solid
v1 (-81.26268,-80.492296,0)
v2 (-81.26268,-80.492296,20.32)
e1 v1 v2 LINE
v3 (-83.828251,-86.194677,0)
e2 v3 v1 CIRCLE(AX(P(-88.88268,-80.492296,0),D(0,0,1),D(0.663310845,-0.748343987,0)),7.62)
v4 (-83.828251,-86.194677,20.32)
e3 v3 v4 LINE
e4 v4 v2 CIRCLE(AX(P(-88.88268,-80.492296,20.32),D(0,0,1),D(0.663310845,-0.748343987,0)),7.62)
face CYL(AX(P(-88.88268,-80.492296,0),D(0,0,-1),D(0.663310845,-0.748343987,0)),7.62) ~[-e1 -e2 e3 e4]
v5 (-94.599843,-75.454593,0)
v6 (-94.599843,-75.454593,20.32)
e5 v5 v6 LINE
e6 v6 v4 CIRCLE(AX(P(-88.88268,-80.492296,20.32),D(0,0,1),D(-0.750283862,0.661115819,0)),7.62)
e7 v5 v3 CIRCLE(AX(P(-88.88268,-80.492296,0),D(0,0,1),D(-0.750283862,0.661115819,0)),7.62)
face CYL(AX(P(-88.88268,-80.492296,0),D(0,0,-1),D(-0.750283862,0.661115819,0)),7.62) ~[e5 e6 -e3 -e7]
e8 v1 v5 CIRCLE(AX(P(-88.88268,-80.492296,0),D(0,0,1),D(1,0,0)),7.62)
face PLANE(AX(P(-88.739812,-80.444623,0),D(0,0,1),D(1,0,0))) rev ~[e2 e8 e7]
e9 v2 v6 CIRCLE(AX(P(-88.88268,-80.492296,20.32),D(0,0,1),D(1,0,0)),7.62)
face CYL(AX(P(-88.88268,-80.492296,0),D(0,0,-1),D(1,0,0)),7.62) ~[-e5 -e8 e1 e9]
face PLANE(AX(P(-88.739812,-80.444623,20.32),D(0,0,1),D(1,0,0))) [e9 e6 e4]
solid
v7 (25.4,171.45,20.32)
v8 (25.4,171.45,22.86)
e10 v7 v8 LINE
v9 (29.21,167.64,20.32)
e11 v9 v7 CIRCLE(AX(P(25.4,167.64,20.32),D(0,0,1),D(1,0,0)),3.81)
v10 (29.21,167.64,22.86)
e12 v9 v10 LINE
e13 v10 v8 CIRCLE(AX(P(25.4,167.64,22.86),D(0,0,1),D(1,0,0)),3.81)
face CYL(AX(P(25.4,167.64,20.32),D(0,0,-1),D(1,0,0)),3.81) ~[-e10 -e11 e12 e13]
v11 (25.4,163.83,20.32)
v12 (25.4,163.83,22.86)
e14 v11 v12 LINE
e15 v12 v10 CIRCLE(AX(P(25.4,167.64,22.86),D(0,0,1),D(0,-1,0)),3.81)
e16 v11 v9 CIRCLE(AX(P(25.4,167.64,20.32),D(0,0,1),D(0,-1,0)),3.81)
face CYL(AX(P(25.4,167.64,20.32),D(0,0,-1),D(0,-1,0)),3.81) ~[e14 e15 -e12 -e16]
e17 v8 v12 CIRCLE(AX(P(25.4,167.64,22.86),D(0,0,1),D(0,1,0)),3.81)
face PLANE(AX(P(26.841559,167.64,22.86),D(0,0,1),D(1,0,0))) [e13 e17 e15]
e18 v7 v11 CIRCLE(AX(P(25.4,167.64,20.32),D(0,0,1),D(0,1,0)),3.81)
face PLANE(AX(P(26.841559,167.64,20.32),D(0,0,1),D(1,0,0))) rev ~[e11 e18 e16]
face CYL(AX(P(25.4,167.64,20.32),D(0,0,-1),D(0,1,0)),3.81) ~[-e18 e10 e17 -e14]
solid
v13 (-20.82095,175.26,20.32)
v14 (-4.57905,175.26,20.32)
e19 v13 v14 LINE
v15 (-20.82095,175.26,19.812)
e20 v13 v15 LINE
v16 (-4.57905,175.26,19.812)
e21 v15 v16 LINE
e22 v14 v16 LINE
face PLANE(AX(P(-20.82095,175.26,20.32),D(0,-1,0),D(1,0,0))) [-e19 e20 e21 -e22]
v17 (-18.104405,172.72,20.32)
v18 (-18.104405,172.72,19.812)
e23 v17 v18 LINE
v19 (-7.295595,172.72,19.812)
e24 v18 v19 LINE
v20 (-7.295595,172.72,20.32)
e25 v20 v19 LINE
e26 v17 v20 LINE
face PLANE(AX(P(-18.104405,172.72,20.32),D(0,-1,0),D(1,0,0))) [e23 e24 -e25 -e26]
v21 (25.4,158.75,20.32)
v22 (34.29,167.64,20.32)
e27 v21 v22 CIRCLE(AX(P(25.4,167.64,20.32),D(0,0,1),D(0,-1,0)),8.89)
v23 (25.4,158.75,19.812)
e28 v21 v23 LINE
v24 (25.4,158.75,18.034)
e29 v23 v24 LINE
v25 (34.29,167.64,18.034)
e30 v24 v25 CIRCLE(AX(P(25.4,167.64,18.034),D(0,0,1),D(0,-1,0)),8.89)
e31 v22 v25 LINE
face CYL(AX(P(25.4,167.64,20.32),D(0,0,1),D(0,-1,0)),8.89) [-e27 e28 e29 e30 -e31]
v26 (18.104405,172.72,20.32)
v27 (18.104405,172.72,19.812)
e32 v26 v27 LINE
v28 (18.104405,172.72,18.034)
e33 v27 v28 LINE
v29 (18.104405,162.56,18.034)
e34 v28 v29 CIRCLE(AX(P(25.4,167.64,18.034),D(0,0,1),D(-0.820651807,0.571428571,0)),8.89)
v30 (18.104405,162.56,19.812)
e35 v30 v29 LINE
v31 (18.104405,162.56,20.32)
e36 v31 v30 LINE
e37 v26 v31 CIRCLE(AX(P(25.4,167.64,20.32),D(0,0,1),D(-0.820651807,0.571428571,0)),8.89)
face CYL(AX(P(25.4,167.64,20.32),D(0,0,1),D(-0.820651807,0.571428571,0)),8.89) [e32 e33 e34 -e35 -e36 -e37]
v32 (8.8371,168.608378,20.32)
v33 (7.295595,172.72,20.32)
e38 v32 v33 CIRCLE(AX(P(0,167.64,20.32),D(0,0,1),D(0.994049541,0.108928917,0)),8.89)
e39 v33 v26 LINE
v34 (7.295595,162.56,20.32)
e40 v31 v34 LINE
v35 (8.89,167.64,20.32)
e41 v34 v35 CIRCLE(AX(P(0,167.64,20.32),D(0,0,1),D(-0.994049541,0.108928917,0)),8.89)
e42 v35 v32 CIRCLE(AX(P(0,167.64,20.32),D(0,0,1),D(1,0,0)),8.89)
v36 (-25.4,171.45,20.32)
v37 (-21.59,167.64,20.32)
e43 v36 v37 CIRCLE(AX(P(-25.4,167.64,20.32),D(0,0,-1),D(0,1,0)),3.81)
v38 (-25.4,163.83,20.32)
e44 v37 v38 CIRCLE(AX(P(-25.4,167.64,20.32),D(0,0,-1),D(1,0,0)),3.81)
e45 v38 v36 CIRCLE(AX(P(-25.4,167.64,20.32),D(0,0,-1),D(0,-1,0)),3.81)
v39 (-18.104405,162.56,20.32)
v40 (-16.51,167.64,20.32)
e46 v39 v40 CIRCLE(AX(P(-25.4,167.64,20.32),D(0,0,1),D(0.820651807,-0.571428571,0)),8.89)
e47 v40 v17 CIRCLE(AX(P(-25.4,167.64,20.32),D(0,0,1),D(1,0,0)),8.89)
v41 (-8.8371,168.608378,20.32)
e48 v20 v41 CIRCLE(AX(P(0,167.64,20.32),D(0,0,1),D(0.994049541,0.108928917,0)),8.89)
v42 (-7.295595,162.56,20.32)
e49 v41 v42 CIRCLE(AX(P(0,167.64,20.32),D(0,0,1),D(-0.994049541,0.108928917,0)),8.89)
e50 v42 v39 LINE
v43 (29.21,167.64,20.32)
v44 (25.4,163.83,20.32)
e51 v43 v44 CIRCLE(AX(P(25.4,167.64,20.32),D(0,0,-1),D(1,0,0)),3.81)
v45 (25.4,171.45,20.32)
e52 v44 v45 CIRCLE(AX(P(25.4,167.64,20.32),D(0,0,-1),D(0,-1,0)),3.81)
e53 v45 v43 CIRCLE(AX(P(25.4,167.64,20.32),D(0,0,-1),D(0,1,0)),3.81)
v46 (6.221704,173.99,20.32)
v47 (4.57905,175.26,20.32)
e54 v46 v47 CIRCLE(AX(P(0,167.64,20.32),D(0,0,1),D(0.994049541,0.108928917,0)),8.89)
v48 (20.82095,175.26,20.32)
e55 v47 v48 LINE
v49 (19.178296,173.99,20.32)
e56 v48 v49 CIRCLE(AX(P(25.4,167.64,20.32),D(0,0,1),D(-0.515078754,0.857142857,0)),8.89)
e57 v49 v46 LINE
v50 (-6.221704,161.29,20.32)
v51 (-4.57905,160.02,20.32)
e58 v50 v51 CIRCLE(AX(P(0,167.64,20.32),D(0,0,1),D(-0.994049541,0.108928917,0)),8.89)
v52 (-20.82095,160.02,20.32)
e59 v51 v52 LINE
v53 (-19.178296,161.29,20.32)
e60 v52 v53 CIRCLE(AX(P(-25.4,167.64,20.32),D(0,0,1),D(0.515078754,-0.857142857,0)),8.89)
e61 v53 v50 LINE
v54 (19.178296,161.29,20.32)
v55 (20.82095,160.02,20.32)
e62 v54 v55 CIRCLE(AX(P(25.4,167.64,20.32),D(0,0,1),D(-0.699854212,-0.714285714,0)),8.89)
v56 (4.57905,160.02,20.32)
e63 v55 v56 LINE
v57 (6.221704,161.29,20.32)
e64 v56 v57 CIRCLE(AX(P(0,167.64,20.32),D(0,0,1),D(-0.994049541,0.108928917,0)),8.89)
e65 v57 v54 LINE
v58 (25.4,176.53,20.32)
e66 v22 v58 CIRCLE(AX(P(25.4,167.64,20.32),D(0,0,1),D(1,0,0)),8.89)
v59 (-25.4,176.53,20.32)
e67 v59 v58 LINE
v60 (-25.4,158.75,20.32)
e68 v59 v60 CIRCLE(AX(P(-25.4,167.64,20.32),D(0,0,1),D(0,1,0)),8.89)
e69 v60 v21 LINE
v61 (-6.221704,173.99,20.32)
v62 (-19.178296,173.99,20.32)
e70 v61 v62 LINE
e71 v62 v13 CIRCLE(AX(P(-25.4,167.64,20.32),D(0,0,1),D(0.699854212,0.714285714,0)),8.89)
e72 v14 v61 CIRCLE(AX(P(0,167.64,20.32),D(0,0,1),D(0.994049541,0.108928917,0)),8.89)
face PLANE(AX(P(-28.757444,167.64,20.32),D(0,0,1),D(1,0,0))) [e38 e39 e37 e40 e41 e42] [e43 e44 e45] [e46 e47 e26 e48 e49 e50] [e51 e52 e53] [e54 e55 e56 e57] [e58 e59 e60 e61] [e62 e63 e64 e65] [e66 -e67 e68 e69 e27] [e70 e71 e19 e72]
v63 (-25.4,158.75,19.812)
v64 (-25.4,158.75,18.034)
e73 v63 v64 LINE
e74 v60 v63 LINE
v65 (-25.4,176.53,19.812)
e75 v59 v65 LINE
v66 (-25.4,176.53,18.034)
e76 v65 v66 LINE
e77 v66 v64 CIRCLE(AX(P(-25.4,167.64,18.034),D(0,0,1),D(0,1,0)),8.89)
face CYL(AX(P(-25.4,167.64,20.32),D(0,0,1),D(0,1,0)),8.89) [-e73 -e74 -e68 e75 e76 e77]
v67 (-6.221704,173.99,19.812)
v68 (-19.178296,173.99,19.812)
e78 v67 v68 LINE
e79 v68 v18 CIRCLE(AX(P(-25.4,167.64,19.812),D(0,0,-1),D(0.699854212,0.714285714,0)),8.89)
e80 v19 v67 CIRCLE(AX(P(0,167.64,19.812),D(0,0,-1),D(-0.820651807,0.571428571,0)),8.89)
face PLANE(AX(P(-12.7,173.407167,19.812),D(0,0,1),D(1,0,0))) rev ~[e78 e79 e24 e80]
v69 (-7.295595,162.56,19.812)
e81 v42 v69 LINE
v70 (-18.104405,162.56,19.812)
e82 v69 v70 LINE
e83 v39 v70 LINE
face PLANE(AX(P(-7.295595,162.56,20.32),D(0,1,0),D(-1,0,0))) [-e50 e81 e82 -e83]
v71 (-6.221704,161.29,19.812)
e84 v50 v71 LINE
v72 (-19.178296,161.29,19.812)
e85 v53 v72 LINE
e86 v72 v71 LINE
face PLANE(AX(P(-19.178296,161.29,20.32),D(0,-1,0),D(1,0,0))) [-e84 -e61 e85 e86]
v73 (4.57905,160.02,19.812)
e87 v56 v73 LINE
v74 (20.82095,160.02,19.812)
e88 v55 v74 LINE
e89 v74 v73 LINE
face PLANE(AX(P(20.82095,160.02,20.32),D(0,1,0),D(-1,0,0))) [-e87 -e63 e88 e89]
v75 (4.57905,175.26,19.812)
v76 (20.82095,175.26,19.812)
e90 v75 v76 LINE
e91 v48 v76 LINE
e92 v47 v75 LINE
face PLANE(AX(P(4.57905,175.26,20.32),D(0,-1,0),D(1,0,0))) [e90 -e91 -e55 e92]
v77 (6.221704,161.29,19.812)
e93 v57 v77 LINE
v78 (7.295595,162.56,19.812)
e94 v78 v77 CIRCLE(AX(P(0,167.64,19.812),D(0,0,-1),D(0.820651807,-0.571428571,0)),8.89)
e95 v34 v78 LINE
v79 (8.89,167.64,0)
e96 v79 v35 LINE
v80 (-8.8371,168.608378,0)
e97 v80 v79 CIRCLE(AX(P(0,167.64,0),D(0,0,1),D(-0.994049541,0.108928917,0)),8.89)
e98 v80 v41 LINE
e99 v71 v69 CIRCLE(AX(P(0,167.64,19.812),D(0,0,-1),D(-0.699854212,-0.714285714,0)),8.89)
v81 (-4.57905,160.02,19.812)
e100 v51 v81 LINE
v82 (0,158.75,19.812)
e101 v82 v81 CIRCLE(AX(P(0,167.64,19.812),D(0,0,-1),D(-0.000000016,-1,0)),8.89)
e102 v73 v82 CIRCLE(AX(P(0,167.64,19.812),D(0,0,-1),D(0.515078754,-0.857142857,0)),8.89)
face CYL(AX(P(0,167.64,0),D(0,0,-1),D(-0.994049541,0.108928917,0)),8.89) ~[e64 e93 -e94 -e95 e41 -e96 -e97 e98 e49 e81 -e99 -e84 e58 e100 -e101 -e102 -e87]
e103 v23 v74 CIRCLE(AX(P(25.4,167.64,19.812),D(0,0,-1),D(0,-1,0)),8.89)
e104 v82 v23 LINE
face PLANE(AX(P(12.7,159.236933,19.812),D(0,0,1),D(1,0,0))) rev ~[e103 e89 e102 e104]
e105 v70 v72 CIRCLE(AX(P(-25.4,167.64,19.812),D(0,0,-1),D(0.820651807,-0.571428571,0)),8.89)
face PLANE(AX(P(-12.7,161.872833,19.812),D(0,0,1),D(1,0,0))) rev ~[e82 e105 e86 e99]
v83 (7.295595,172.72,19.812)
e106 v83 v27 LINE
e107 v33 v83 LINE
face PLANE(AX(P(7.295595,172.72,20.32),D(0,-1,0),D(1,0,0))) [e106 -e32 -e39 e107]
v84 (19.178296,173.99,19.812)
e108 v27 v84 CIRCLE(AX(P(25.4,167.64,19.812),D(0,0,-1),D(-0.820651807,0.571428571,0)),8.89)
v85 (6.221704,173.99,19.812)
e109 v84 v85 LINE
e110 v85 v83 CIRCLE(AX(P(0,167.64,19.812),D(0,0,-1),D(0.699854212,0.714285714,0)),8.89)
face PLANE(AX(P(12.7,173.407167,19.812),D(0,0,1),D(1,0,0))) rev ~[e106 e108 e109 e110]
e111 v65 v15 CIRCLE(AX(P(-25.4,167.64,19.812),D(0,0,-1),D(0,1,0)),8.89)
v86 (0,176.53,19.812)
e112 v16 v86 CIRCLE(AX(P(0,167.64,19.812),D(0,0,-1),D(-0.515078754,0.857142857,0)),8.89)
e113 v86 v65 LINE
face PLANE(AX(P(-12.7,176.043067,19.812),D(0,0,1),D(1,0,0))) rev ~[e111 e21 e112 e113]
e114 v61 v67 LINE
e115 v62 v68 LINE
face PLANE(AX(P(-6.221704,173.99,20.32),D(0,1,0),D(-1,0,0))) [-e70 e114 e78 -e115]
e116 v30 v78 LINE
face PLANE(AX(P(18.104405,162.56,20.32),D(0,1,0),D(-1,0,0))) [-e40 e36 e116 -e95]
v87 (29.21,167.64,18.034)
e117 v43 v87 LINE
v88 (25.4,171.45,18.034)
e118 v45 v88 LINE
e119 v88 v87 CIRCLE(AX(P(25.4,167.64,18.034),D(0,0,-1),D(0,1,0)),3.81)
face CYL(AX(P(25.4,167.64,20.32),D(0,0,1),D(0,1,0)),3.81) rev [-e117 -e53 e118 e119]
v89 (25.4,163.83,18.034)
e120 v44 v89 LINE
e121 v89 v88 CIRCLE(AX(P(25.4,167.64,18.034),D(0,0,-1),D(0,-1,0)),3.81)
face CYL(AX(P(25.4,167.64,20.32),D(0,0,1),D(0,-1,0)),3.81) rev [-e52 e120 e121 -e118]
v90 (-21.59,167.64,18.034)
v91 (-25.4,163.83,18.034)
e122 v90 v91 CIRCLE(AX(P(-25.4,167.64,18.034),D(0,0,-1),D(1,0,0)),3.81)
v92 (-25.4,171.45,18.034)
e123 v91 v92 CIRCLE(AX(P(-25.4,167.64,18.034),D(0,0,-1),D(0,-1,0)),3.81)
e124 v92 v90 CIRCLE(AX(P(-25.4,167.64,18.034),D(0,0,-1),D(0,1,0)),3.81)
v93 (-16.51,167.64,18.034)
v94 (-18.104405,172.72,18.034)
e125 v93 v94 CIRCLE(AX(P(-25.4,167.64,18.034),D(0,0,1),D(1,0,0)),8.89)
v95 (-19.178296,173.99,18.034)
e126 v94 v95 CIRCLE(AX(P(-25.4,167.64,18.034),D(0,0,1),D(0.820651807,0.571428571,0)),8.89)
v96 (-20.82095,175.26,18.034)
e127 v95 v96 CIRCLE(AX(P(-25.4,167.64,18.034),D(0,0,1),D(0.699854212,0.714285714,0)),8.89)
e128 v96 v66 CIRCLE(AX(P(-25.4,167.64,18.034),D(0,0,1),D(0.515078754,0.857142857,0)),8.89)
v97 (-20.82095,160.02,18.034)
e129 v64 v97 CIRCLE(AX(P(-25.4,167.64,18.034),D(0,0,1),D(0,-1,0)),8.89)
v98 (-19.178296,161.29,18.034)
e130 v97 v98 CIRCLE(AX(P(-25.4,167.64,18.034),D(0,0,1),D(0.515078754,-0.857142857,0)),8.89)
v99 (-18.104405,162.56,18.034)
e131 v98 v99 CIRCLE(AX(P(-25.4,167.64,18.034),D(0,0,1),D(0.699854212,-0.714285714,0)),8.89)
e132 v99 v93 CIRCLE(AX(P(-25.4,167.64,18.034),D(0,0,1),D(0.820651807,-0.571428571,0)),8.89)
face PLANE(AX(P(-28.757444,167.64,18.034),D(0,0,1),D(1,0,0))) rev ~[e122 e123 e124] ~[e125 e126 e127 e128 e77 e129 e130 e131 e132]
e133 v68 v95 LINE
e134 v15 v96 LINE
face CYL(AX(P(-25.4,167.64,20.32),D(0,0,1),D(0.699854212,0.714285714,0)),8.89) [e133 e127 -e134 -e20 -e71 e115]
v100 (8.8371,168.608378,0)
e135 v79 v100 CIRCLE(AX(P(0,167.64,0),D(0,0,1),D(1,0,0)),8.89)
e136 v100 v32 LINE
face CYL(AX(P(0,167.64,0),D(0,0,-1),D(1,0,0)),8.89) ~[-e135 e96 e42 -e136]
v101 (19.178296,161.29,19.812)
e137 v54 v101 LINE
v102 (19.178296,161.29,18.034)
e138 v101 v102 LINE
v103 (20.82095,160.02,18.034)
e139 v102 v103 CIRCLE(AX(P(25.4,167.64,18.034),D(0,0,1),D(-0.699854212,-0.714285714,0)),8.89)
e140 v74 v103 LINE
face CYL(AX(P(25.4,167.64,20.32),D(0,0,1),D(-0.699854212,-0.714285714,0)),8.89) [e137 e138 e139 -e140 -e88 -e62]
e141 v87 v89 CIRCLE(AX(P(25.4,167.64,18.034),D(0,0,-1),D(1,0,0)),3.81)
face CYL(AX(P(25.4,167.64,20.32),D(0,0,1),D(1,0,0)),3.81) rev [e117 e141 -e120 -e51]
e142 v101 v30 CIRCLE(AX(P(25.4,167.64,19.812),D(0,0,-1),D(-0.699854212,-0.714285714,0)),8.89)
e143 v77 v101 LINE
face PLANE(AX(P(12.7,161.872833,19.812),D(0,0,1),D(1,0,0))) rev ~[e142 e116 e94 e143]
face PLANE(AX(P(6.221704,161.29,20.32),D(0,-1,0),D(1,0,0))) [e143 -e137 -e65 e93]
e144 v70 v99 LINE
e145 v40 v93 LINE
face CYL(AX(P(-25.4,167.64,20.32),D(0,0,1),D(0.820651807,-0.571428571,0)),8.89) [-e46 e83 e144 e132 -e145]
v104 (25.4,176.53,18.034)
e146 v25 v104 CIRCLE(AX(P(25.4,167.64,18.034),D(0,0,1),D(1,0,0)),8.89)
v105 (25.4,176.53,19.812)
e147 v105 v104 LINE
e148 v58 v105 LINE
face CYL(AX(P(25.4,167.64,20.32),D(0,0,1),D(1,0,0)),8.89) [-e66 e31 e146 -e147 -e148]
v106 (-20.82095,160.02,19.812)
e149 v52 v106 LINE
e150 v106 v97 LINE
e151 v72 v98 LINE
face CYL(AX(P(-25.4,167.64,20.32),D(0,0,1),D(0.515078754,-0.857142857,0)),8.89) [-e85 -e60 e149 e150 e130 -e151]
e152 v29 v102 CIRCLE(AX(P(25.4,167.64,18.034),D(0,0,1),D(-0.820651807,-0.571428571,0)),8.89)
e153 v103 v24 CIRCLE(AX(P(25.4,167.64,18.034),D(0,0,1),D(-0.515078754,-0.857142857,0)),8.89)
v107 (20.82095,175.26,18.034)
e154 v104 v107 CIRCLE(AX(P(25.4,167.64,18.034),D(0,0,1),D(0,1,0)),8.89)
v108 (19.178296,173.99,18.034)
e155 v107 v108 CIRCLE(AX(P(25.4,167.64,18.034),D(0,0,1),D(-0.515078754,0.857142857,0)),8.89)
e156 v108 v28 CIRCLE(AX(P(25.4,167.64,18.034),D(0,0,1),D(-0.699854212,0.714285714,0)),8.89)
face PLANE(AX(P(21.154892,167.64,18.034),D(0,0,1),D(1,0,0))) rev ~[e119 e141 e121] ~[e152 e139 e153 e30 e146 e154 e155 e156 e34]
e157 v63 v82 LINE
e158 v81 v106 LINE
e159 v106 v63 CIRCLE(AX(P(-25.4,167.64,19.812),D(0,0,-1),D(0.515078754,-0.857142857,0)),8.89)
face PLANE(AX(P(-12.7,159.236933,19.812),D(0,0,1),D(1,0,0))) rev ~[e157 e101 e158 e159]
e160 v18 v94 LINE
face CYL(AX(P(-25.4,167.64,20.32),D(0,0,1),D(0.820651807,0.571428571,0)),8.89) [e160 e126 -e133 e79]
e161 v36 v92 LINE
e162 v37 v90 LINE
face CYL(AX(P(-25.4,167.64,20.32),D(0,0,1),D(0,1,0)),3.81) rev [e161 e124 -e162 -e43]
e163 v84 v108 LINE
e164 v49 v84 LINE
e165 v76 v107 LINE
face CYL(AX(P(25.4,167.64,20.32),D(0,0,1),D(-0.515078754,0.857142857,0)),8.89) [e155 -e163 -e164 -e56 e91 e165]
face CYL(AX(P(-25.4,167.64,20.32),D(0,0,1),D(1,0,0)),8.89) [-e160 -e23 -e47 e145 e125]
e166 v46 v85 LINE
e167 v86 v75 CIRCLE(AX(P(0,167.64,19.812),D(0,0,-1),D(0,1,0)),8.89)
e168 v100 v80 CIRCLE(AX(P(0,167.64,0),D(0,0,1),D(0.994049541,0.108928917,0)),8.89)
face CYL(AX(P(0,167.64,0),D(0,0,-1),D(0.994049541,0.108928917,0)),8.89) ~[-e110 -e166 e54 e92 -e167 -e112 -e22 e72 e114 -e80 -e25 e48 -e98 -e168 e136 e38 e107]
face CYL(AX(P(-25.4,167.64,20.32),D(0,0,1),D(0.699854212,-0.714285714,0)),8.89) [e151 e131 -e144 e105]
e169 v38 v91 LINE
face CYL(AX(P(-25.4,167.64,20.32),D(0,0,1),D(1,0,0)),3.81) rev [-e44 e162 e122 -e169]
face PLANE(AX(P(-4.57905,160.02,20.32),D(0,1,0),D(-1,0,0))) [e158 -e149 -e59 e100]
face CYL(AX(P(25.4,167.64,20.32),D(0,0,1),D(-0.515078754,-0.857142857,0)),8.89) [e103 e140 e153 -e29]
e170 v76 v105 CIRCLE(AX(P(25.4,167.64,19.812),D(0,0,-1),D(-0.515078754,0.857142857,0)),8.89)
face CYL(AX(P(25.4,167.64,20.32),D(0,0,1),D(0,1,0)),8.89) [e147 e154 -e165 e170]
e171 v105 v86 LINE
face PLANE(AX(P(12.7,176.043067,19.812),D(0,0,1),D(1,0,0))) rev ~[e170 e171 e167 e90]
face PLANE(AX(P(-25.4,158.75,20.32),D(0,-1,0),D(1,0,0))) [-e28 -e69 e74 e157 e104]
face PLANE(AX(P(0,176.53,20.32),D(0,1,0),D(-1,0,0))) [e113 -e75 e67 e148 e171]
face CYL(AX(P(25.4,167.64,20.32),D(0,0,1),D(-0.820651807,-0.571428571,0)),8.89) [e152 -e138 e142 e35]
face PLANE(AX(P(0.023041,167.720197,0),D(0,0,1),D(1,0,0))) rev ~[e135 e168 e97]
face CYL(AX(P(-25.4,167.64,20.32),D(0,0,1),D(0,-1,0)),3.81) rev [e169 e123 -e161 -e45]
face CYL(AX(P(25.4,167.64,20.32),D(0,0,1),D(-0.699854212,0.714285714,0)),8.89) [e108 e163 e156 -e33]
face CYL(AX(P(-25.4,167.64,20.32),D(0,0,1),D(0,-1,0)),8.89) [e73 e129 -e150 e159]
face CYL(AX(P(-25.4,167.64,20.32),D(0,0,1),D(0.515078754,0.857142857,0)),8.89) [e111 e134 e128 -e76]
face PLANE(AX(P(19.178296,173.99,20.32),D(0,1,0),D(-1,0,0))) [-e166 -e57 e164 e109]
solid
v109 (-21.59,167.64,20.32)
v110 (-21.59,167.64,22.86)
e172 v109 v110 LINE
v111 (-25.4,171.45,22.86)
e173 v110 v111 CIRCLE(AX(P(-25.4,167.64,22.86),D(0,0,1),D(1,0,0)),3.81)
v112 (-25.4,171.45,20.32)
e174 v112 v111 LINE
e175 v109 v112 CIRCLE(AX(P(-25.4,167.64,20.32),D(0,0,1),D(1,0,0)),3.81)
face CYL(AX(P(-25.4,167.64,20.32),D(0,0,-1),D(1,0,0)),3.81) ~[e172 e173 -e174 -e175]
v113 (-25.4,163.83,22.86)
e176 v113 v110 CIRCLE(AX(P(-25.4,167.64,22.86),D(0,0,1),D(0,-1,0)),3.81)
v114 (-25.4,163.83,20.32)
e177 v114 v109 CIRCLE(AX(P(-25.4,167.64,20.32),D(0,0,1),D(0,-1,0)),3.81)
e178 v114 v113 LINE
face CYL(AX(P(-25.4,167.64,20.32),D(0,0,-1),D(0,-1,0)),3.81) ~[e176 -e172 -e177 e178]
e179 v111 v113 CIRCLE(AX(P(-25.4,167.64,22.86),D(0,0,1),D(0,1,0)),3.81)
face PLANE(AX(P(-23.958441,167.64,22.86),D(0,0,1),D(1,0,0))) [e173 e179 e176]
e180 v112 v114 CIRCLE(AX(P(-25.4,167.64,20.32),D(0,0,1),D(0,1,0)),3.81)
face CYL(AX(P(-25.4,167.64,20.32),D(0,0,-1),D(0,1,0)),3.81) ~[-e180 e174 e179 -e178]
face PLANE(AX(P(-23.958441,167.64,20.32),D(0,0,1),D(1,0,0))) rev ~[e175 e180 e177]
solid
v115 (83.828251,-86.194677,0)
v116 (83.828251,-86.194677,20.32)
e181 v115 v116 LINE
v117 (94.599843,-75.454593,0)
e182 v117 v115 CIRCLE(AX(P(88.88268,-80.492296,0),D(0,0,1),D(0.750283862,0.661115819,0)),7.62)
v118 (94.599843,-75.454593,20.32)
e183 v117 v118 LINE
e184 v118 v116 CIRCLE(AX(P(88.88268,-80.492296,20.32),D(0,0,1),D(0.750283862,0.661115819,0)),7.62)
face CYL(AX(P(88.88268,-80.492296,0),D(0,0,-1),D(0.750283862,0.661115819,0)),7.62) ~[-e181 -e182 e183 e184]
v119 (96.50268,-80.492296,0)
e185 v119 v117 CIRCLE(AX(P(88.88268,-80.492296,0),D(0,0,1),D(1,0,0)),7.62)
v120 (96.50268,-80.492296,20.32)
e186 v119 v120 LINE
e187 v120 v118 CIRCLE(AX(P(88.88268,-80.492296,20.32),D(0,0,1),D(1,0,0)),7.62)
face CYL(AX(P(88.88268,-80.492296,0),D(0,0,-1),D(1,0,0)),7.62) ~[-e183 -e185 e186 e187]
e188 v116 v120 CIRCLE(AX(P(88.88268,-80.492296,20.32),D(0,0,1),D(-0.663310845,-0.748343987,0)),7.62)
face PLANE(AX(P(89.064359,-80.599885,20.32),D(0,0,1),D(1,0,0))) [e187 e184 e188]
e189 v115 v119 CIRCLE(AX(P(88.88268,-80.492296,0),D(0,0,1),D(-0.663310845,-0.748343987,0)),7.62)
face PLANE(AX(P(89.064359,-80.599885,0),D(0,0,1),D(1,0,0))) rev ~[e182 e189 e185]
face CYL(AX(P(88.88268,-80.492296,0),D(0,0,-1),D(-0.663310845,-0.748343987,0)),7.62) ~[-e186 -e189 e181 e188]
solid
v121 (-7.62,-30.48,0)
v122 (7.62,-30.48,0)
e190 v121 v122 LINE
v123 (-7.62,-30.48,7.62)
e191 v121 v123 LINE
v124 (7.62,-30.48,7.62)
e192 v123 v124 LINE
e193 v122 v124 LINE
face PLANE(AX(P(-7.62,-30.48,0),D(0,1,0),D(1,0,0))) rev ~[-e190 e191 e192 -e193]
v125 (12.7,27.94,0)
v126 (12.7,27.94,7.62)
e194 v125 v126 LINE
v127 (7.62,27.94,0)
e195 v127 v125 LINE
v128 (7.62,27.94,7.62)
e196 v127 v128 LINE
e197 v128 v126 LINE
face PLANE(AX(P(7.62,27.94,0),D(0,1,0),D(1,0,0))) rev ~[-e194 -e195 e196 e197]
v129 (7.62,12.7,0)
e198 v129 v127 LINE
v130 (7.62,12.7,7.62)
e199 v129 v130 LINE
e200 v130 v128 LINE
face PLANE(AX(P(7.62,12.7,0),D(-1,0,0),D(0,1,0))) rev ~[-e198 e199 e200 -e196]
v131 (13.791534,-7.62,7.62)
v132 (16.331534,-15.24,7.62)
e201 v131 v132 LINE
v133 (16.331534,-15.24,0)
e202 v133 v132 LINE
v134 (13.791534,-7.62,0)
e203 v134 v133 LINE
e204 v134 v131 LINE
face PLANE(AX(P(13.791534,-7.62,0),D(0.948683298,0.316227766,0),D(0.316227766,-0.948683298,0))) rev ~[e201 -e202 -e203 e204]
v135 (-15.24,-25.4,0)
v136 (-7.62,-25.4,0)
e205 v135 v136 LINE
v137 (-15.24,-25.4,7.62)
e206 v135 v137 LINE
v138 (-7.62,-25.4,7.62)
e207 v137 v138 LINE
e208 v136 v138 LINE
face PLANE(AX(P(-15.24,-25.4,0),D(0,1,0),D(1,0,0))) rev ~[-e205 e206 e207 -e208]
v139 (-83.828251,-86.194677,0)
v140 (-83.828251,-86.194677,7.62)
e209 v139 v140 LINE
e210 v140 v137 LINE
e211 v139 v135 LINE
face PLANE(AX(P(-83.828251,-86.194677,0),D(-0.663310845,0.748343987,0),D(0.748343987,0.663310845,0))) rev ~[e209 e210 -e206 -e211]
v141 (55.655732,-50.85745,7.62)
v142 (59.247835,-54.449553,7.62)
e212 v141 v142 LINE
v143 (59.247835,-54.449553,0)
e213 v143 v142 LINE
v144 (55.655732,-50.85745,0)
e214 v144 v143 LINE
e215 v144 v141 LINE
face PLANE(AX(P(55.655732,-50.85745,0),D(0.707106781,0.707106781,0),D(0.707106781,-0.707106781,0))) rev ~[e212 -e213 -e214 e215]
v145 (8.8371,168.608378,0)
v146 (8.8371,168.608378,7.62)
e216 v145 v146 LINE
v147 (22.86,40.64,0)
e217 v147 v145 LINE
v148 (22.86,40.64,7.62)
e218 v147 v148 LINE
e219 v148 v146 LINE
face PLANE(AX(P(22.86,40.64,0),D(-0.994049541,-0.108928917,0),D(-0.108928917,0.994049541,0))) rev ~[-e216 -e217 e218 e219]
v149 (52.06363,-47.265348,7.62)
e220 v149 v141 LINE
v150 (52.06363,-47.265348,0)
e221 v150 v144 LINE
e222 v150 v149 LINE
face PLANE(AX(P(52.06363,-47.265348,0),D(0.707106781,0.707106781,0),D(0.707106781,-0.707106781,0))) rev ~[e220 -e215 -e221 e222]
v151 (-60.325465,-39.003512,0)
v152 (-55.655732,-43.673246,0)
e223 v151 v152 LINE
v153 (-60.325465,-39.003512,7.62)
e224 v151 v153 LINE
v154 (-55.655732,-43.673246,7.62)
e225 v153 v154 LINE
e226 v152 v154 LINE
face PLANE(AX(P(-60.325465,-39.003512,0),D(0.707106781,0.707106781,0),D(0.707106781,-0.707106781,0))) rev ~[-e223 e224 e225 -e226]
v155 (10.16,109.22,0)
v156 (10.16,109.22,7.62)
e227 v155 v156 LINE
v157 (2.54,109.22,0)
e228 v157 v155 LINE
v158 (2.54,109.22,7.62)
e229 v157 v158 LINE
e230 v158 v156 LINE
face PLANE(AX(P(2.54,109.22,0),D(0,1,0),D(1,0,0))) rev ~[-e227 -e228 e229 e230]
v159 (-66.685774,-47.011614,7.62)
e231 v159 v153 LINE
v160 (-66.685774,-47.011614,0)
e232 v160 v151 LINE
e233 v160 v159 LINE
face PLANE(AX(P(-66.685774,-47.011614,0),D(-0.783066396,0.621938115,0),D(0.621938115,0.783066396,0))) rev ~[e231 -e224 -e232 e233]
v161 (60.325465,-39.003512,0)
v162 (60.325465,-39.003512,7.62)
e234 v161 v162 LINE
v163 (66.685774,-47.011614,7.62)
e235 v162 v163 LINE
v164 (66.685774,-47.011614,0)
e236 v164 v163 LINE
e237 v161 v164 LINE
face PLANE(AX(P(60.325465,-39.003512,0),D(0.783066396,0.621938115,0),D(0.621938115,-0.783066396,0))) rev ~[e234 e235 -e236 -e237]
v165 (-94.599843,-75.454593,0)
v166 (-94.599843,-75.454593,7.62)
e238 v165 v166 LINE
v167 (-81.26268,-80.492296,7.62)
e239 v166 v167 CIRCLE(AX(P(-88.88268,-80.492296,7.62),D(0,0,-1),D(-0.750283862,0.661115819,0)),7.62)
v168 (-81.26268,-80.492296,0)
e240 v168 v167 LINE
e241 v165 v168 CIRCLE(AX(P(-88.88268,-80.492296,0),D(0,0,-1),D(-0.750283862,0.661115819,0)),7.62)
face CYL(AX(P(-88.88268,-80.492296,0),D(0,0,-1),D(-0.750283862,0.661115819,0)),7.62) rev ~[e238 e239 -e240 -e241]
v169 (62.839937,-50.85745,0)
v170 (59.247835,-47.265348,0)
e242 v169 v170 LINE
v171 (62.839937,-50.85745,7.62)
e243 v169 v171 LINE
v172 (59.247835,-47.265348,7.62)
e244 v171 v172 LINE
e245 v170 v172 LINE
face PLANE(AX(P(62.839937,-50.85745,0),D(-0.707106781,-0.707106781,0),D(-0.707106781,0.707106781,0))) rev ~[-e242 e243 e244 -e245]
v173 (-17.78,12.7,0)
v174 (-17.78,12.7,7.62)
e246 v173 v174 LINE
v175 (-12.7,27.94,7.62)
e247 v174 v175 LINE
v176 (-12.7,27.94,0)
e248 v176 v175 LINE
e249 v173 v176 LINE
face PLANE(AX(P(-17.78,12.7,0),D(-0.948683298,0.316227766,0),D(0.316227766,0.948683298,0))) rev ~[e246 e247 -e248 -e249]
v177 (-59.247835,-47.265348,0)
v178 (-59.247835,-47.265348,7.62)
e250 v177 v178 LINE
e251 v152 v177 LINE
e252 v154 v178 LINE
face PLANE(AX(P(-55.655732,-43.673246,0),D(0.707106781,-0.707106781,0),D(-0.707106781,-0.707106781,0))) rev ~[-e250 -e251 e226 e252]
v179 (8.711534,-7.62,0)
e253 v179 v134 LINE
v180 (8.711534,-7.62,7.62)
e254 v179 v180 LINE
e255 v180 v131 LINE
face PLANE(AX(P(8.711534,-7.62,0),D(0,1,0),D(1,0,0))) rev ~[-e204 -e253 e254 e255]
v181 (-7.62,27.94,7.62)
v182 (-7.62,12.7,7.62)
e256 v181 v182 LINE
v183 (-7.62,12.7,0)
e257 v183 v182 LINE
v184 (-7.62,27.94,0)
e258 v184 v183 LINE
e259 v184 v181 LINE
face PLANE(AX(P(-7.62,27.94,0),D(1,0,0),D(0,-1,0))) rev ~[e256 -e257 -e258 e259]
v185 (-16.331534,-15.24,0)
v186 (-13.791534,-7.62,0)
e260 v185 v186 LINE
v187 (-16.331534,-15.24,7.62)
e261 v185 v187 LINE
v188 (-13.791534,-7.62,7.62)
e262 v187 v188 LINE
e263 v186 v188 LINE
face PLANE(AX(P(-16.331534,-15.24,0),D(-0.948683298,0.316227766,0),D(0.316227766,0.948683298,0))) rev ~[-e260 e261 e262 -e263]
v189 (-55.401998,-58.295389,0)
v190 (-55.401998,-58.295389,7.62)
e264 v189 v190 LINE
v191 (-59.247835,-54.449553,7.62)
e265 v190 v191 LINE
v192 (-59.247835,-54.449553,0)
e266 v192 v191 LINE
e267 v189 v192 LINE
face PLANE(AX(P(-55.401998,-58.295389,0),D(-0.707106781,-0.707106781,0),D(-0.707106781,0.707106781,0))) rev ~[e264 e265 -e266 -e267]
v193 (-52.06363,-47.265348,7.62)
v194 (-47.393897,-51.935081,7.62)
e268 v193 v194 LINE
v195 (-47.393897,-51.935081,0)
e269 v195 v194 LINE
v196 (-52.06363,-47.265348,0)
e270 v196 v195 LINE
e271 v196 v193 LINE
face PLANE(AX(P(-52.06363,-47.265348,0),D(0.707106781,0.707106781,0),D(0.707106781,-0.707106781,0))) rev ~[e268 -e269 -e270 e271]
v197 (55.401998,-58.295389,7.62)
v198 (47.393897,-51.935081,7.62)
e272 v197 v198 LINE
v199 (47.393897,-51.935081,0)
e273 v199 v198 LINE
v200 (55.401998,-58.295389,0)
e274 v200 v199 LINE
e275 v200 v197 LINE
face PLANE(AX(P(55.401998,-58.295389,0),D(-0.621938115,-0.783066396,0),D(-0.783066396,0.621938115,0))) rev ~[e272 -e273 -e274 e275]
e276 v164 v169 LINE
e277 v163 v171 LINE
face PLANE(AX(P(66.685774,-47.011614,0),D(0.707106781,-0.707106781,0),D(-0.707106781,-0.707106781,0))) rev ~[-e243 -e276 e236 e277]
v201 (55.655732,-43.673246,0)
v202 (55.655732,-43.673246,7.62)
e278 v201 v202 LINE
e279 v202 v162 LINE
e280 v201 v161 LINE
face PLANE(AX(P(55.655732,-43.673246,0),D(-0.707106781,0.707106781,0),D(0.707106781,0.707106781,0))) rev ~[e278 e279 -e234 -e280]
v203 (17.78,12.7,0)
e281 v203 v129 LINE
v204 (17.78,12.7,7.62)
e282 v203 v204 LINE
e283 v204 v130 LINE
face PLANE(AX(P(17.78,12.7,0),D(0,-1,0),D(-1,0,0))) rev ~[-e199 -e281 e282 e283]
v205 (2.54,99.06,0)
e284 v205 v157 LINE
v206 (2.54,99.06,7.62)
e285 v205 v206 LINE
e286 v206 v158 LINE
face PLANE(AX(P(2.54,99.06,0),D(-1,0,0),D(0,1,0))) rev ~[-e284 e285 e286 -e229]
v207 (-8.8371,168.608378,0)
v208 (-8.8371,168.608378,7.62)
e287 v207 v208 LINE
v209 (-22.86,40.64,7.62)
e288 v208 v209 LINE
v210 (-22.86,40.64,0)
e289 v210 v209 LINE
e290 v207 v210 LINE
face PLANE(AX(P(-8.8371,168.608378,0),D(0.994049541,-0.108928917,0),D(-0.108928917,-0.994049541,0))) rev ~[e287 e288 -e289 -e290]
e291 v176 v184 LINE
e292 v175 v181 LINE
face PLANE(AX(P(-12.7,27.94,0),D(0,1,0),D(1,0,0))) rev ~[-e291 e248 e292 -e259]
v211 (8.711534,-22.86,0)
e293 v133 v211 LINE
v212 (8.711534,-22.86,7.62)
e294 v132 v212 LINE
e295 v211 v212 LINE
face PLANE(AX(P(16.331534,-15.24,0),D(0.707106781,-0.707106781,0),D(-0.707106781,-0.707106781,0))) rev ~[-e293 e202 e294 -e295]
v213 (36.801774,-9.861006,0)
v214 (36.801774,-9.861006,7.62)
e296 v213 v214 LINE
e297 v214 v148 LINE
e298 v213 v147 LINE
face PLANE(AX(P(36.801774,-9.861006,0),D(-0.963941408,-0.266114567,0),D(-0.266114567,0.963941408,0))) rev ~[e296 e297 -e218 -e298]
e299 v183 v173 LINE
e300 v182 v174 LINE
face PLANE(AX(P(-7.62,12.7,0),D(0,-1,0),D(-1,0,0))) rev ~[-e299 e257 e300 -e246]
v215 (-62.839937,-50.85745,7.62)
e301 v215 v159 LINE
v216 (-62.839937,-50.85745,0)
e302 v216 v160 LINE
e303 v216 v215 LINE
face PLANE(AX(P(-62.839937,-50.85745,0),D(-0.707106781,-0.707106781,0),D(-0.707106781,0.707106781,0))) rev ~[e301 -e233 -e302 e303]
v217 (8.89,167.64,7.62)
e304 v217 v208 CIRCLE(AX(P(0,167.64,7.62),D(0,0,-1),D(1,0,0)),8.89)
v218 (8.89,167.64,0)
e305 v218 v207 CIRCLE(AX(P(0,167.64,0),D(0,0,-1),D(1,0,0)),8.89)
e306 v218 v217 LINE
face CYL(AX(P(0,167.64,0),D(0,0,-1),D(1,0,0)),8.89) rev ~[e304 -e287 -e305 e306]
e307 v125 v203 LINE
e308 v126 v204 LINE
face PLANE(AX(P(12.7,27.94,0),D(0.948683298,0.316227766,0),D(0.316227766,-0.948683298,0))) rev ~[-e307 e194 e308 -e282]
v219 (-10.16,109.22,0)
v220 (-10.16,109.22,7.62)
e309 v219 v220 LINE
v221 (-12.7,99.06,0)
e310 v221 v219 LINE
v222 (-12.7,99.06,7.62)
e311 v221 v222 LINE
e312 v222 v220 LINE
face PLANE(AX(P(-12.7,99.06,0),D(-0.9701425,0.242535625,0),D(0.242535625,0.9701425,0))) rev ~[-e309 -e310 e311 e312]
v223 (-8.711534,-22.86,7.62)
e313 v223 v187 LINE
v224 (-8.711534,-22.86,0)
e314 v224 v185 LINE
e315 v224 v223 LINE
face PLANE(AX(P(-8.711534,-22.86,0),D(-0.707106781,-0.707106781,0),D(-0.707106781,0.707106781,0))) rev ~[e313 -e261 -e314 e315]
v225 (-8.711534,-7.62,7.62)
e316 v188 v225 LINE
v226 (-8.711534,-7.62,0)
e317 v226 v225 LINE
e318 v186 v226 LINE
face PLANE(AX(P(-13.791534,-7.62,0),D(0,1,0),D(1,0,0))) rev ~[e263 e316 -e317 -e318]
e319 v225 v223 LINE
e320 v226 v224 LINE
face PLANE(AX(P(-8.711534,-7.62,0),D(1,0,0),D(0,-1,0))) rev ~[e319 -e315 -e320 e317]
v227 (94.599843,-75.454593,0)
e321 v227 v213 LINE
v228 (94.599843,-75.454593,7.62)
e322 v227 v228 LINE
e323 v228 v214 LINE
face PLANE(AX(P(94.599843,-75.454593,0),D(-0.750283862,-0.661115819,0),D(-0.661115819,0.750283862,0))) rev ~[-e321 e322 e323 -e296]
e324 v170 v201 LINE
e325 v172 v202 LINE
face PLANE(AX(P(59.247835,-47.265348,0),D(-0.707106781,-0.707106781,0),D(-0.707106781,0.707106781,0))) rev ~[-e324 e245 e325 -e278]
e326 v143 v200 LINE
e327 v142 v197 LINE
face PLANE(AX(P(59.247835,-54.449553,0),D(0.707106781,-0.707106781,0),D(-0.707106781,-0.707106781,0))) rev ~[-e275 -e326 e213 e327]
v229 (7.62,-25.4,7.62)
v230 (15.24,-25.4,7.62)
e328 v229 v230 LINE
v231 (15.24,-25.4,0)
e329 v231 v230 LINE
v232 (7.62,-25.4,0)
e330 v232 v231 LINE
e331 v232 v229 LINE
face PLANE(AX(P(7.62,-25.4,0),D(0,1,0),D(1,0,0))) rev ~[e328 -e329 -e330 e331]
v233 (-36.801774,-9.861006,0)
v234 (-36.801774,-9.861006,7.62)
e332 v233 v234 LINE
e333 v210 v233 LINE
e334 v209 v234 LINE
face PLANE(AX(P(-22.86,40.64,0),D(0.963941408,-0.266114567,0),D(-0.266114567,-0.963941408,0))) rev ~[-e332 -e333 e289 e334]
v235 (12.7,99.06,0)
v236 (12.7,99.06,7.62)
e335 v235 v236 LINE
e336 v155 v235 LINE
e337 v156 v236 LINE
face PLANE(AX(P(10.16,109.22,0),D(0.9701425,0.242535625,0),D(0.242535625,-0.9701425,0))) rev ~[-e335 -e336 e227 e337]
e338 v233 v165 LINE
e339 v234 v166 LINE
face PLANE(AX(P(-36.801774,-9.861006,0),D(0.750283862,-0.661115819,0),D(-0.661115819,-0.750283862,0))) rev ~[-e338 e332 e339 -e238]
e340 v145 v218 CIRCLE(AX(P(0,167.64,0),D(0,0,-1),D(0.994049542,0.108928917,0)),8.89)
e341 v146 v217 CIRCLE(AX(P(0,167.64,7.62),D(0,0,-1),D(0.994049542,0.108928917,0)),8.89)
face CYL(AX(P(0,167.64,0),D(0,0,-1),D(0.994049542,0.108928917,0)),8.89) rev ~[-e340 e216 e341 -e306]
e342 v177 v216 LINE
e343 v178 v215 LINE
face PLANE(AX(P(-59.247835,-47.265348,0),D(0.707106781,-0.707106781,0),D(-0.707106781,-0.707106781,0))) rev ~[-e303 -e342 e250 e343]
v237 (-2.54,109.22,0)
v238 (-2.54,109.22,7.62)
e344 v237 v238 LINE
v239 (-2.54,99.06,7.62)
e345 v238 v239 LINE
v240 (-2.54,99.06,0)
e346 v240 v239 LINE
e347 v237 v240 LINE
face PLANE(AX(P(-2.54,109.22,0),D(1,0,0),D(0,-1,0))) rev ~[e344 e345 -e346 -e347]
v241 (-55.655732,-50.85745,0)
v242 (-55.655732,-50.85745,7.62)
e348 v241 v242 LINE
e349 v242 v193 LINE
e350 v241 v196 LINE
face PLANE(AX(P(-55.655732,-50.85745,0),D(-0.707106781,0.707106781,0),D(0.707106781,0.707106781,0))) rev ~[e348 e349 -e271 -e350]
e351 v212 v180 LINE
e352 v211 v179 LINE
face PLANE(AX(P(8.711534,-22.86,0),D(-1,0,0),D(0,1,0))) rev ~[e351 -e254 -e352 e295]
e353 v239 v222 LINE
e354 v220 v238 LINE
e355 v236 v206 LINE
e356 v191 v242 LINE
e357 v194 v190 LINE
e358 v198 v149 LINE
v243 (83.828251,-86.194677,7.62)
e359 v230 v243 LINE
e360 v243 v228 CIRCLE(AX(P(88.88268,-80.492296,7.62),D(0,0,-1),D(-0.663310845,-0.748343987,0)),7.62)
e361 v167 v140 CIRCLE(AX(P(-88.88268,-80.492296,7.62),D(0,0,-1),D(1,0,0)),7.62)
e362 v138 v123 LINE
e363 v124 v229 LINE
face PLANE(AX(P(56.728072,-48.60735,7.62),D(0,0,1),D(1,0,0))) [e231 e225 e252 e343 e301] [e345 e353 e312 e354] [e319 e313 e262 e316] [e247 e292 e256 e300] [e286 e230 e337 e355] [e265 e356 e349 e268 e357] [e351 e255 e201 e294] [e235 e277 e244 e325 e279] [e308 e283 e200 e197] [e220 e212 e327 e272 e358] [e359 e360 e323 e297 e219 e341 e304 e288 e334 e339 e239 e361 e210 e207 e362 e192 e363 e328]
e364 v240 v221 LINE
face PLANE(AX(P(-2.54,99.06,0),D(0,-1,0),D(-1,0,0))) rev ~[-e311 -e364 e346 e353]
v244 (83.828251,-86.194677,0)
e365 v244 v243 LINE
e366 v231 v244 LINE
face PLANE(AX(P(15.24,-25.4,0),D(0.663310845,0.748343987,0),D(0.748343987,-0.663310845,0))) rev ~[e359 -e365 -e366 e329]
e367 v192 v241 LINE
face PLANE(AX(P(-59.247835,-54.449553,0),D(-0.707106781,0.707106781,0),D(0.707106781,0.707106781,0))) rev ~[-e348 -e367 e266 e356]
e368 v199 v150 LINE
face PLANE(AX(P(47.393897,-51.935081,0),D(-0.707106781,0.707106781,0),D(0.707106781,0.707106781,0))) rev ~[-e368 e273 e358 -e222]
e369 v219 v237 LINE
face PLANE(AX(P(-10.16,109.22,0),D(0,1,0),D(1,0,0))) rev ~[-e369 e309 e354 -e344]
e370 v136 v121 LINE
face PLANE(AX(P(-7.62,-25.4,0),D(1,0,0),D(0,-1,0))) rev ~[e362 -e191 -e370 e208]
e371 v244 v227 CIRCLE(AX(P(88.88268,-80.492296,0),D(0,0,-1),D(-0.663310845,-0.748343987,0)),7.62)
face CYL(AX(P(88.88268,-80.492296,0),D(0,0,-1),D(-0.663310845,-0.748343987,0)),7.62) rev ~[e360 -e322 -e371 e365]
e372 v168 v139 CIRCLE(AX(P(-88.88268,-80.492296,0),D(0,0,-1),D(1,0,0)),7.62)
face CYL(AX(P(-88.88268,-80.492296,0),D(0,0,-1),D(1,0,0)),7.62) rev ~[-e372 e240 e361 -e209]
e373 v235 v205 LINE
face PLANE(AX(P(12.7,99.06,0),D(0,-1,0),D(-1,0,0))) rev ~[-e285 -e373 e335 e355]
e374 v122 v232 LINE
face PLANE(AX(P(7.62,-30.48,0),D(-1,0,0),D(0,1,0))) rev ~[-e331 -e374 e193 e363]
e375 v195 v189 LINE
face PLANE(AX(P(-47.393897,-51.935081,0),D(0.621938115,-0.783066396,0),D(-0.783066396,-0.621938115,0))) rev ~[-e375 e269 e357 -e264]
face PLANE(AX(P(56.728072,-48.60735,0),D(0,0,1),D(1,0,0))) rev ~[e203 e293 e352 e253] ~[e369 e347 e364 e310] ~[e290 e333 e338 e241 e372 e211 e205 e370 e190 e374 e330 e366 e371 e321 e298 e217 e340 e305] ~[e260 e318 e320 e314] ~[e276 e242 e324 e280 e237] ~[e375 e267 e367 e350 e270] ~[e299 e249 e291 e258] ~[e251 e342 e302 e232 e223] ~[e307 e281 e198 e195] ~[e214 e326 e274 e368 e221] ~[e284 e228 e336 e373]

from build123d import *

# Parameters (mm, degrees)
F1_DEPTH = 7.62
F2_DEPTH = 20.32
F4_DEPTH = 0.508
F5_DEPTH = 2.286
F6_DEPTH = 2.54


with BuildPart() as f1:
    # F0 (on Top) → F1 (new body)
    with BuildSketch(Plane.XY):
        with BuildLine():
            Line((94.5998428664, -75.4545931138), (36.8017739816, -9.8610056184))
            Line((36.8017739816, -9.8610056184), (15.24, -25.4))
            Line((15.24, -25.4), (83.8282511998, -86.1946768381))
            ThreePointArc((83.8282511998, -86.1946768381), (83.5024239133, -75.0962557957), (94.5998428664, -75.4545931138))
        make_face()
        Polygon((47.393896559, -51.9350811917), (52.0636297419, -47.2653480087), (55.6557321903, -50.8574504572), (59.2478346388, -54.4495529056), (55.4019981606, -58.2953893838), align=None, mode=Mode.SUBTRACT)
        Polygon((62.8399370872, -50.8574504572), (59.2478346388, -47.2653480087), (55.6557321903, -43.6732455603), (60.3254653733, -39.0035123773), (66.6857735654, -47.011613979), align=None, mode=Mode.SUBTRACT)
        with BuildLine():
            Line((-15.24, -25.4), (-36.8017739816, -9.8610056184))
            Line((-36.8017739816, -9.8610056184), (-94.5998428664, -75.4545931138))
            ThreePointArc((-94.5998428664, -75.4545931138), (-86.1901329282, -73.3638602648), (-81.2626798383, -80.4922956567))
            ThreePointArc((-81.2626798383, -80.4922956567), (-81.9336098924, -83.618767612), (-83.8282511998, -86.1946768381))
            Line((-83.8282511998, -86.1946768381), (-15.24, -25.4))
        make_face()
        Polygon((-60.3254653733, -39.0035123773), (-55.6557321903, -43.6732455603), (-59.2478346388, -47.2653480087), (-62.8399370872, -50.8574504572), (-66.6857735654, -47.011613979), align=None, mode=Mode.SUBTRACT)
        Polygon((-55.6557321903, -50.8574504572), (-52.0636297419, -47.2653480087), (-47.393896559, -51.9350811917), (-55.4019981606, -58.2953893838), (-59.2478346388, -54.4495529056), align=None, mode=Mode.SUBTRACT)
        Polygon((-22.86, 40.64), (-36.8017739816, -9.8610056184), (-15.24, -25.4), (-7.62, -25.4), (0, -25.4), (7.62, -25.4), (15.24, -25.4), (36.8017739816, -9.8610056184), (22.86, 40.64), (0, 40.64), align=None)
        Polygon((-8.711533621, -7.62), (-8.711533621, -15.24), (-8.711533621, -22.86), (-16.331533621, -15.24), (-13.791533621, -7.62), align=None, mode=Mode.SUBTRACT)
        Polygon((-7.62, 27.94), (-7.62, 20.32), (-7.62, 12.7), (-17.78, 12.7), (-12.7, 27.94), align=None, mode=Mode.SUBTRACT)
        Polygon((8.711533621, -22.86), (8.711533621, -15.24), (8.711533621, -7.62), (13.791533621, -7.62), (16.331533621, -15.24), align=None, mode=Mode.SUBTRACT)
        Polygon((17.78, 12.7), (7.62, 12.7), (7.62, 20.32), (7.62, 27.94), (12.7, 27.94), align=None, mode=Mode.SUBTRACT)
        Polygon((0, -25.4), (-7.62, -25.4), (-7.62, -30.48), (7.62, -30.48), (7.62, -25.4), align=None)
        with BuildLine():
            Line((-8.8371004239, 168.6083780763), (-22.86, 40.64))
            Line((-22.86, 40.64), (0, 40.64))
            Line((0, 40.64), (22.86, 40.64))
            Line((22.86, 40.64), (8.8371004239, 168.6083780763))
            ThreePointArc((8.8371004239, 168.6083780763), (8.8767652545, 168.1249109361), (8.89, 167.64))
            ThreePointArc((8.89, 167.64), (-0.4849109361, 158.7632347455), (-8.8371004239, 168.6083780763))
        make_face()
        Polygon((-12.7, 99.06), (-10.16, 109.22), (-2.54, 109.22), (-2.54, 104.14), (-2.54, 99.06), align=None, mode=Mode.SUBTRACT)
        Polygon((2.54, 99.06), (2.54, 104.14), (2.54, 109.22), (10.16, 109.22), (12.7, 99.06), align=None, mode=Mode.SUBTRACT)
    extrude(amount=F1_DEPTH)


with BuildPart() as f2:
    # F0 (on Top) → F2 (new body)
    with BuildSketch(Plane.XY):
        with BuildLine():
            ThreePointArc((8.8371004239, 168.6083780763), (0, 176.53), (-8.8371004239, 168.6083780763))
            ThreePointArc((-8.8371004239, 168.6083780763), (-0.4849109361, 158.7632347455), (8.89, 167.64))
            ThreePointArc((8.89, 167.64), (8.8767652545, 168.1249109361), (8.8371004239, 168.6083780763))
        make_face()
    extrude(amount=F2_DEPTH)

    # F3 (on face) → F4 (join)
    with BuildSketch(Plane.XY.offset(20.32)):
        with BuildLine():
            Line((0, 176.53), (-25.4, 176.53))
            ThreePointArc((-25.4, 176.53), (-23.0240475594, 176.2066183527), (-20.8209498802, 175.26))
            Line((-20.8209498802, 175.26), (-4.5790501198, 175.26))
            ThreePointArc((-4.5790501198, 175.26), (-2.3759524406, 176.2066183527), (0, 176.53))
        make_face()
        with BuildLine():
            Line((-6.2217039467, 173.99), (-19.1782960533, 173.99))
            ThreePointArc((-19.1782960533, 173.99), (-18.6115859925, 173.3801685744), (-18.1044054389, 172.72))
            Line((-18.1044054389, 172.72), (-7.2955945611, 172.72))
            ThreePointArc((-7.2955945611, 172.72), (-6.7884140075, 173.3801685744), (-6.2217039467, 173.99))
        make_face()
        with BuildLine():
            Line((19.1782960533, 173.99), (6.2217039467, 173.99))
            ThreePointArc((6.2217039467, 173.99), (6.7884140075, 173.3801685744), (7.2955945611, 172.72))
            Line((7.2955945611, 172.72), (18.1044054389, 172.72))
            ThreePointArc((18.1044054389, 172.72), (18.6115859925, 173.3801685744), (19.1782960533, 173.99))
        make_face()
        with BuildLine():
            Line((25.4, 176.53), (0, 176.53))
            ThreePointArc((0, 176.53), (2.3759524406, 176.2066183527), (4.5790501198, 175.26))
            Line((4.5790501198, 175.26), (20.8209498802, 175.26))
            ThreePointArc((20.8209498802, 175.26), (23.0240475594, 176.2066183527), (25.4, 176.53))
        make_face()
        with BuildLine():
            ThreePointArc((-18.1044054389, 162.56), (-18.6115859925, 161.8998314256), (-19.1782960533, 161.29))
            Line((-19.1782960533, 161.29), (-6.2217039467, 161.29))
            ThreePointArc((-6.2217039467, 161.29), (-6.7884140075, 161.8998314256), (-7.2955945611, 162.56))
            Line((-7.2955945611, 162.56), (-18.1044054389, 162.56))
        make_face()
        with BuildLine():
            ThreePointArc((-20.8209498802, 160.02), (-23.0240475594, 159.0733816473), (-25.4, 158.75))
            Line((-25.4, 158.75), (-1.406e-07, 158.75))
            ThreePointArc((-1.406e-07, 158.75), (-2.3759525084, 159.0733816661), (-4.5790501198, 160.02))
            Line((-4.5790501198, 160.02), (-20.8209498802, 160.02))
        make_face()
        with BuildLine():
            ThreePointArc((4.5790501198, 160.02), (2.3759523728, 159.0733816286), (-1.406e-07, 158.75))
            Line((-1.406e-07, 158.75), (25.4, 158.75))
            ThreePointArc((25.4, 158.75), (23.0240475594, 159.0733816473), (20.8209498802, 160.02))
            Line((20.8209498802, 160.02), (4.5790501198, 160.02))
        make_face()
        with BuildLine():
            ThreePointArc((7.2955945611, 162.56), (6.7884140075, 161.8998314256), (6.2217039467, 161.29))
            Line((6.2217039467, 161.29), (19.1782960533, 161.29))
            ThreePointArc((19.1782960533, 161.29), (18.6115859925, 161.8998314256), (18.1044054389, 162.56))
            Line((18.1044054389, 162.56), (7.2955945611, 162.56))
        make_face()
    extrude(amount=-F4_DEPTH)

    # F3 (on face) → F5 (join)
    with BuildSketch(Plane.XY.offset(20.32)):
        with BuildLine():
            Line((-25.4, 175.26), (-25.4, 176.53))
            ThreePointArc((-25.4, 176.53), (-34.29, 167.64), (-25.4, 158.75))
            Line((-25.4, 158.75), (-25.4, 160.02))
            Line((-25.4, 160.02), (-25.4, 161.29))
            Line((-25.4, 161.29), (-25.4, 162.56))
            Line((-25.4, 162.56), (-25.4, 163.83))
            ThreePointArc((-25.4, 163.83), (-29.21, 167.64), (-25.4, 171.45))
            Line((-25.4, 171.45), (-25.4, 172.72))
            Line((-25.4, 172.72), (-25.4, 173.99))
            Line((-25.4, 173.99), (-25.4, 175.26))
        make_face()
        with BuildLine():
            Line((-18.1044054389, 172.72), (-25.4, 172.72))
            Line((-25.4, 172.72), (-25.4, 171.45))
            ThreePointArc((-25.4, 171.45), (-22.7059231637, 170.3340768363), (-21.59, 167.64))
            ThreePointArc((-21.59, 167.64), (-22.7059231637, 164.9459231637), (-25.4, 163.83))
            Line((-25.4, 163.83), (-25.4, 162.56))
            Line((-25.4, 162.56), (-18.1044054389, 162.56))
            ThreePointArc((-18.1044054389, 162.56), (-16.9179620477, 164.9778331803), (-16.51, 167.64))
            ThreePointArc((-16.51, 167.64), (-16.9179620477, 170.3021668197), (-18.1044054389, 172.72))
        make_face()
        with BuildLine():
            Line((-19.1782960533, 173.99), (-25.4, 173.99))
            Line((-25.4, 173.99), (-25.4, 172.72))
            Line((-25.4, 172.72), (-18.1044054389, 172.72))
            ThreePointArc((-18.1044054389, 172.72), (-18.6115859925, 173.3801685744), (-19.1782960533, 173.99))
        make_face()
        with BuildLine():
            Line((-20.8209498802, 175.26), (-25.4, 175.26))
            Line((-25.4, 175.26), (-25.4, 173.99))
            Line((-25.4, 173.99), (-19.1782960533, 173.99))
            ThreePointArc((-19.1782960533, 173.99), (-19.9624180833, 174.6731218459), (-20.8209498802, 175.26))
        make_face()
        with BuildLine():
            ThreePointArc((-20.8209498802, 175.26), (-23.0240475594, 176.2066183527), (-25.4, 176.53))
            Line((-25.4, 176.53), (-25.4, 175.26))
            Line((-25.4, 175.26), (-20.8209498802, 175.26))
        make_face()
        with BuildLine():
            Line((-25.4, 162.56), (-25.4, 161.29))
            Line((-25.4, 161.29), (-19.1782960533, 161.29))
            ThreePointArc((-19.1782960533, 161.29), (-18.6115859925, 161.8998314256), (-18.1044054389, 162.56))
            Line((-18.1044054389, 162.56), (-25.4, 162.56))
        make_face()
        with BuildLine():
            Line((-25.4, 161.29), (-25.4, 160.02))
            Line((-25.4, 160.02), (-20.8209498802, 160.02))
            ThreePointArc((-20.8209498802, 160.02), (-19.9624180833, 160.6068781541), (-19.1782960533, 161.29))
            Line((-19.1782960533, 161.29), (-25.4, 161.29))
        make_face()
        with BuildLine():
            Line((-25.4, 160.02), (-25.4, 158.75))
            ThreePointArc((-25.4, 158.75), (-23.0240475594, 159.0733816473), (-20.8209498802, 160.02))
            Line((-20.8209498802, 160.02), (-25.4, 160.02))
        make_face()
        with BuildLine():
            Line((25.4, 171.45), (25.4, 172.72))
            Line((25.4, 172.72), (18.1044054389, 172.72))
            ThreePointArc((18.1044054389, 172.72), (16.51, 167.64), (18.1044054389, 162.56))
            Line((18.1044054389, 162.56), (25.4, 162.56))
            Line((25.4, 162.56), (25.4, 163.83))
            ThreePointArc((25.4, 163.83), (21.59, 167.64), (25.4, 171.45))
        make_face()
        with BuildLine():
            ThreePointArc((34.29, 167.64), (31.6861792847, 173.9261792847), (25.4, 176.53))
            Line((25.4, 176.53), (25.4, 175.26))
            Line((25.4, 175.26), (25.4, 173.99))
            Line((25.4, 173.99), (25.4, 172.72))
            Line((25.4, 172.72), (25.4, 171.45))
            ThreePointArc((25.4, 171.45), (28.0940768363, 170.3340768363), (29.21, 167.64))
            ThreePointArc((29.21, 167.64), (28.0940768363, 164.9459231637), (25.4, 163.83))
            Line((25.4, 163.83), (25.4, 162.56))
            Line((25.4, 162.56), (25.4, 161.29))
            Line((25.4, 161.29), (25.4, 160.02))
            Line((25.4, 160.02), (25.4, 158.75))
            ThreePointArc((25.4, 158.75), (31.6861792847, 161.3538207153), (34.29, 167.64))
        make_face()
        with BuildLine():
            Line((25.4, 172.72), (25.4, 173.99))
            Line((25.4, 173.99), (19.1782960533, 173.99))
            ThreePointArc((19.1782960533, 173.99), (18.6115859925, 173.3801685744), (18.1044054389, 172.72))
            Line((18.1044054389, 172.72), (25.4, 172.72))
        make_face()
        with BuildLine():
            Line((25.4, 173.99), (25.4, 175.26))
            Line((25.4, 175.26), (20.8209498802, 175.26))
            ThreePointArc((20.8209498802, 175.26), (19.9624180833, 174.6731218459), (19.1782960533, 173.99))
            Line((19.1782960533, 173.99), (25.4, 173.99))
        make_face()
        with BuildLine():
            Line((25.4, 175.26), (25.4, 176.53))
            ThreePointArc((25.4, 176.53), (23.0240475594, 176.2066183527), (20.8209498802, 175.26))
            Line((20.8209498802, 175.26), (25.4, 175.26))
        make_face()
        with BuildLine():
            Line((19.1782960533, 161.29), (25.4, 161.29))
            Line((25.4, 161.29), (25.4, 162.56))
            Line((25.4, 162.56), (18.1044054389, 162.56))
            ThreePointArc((18.1044054389, 162.56), (18.6115859925, 161.8998314256), (19.1782960533, 161.29))
        make_face()
        with BuildLine():
            Line((20.8209498802, 160.02), (25.4, 160.02))
            Line((25.4, 160.02), (25.4, 161.29))
            Line((25.4, 161.29), (19.1782960533, 161.29))
            ThreePointArc((19.1782960533, 161.29), (19.9624180833, 160.6068781541), (20.8209498802, 160.02))
        make_face()
        with BuildLine():
            ThreePointArc((20.8209498802, 160.02), (23.0240475594, 159.0733816473), (25.4, 158.75))
            Line((25.4, 158.75), (25.4, 160.02))
            Line((25.4, 160.02), (20.8209498802, 160.02))
        make_face()
    extrude(amount=-F5_DEPTH)


with BuildPart() as f2b:
    # F0 (on Top) → F2, piece 2 (new body)
    with BuildSketch(Plane.XY):
        with BuildLine():
            ThreePointArc((96.5026798383, -80.4922956567), (96.0111152302, -77.7997487466), (94.5998428664, -75.4545931138))
            ThreePointArc((94.5998428664, -75.4545931138), (83.5024239133, -75.0962557957), (83.8282511998, -86.1946768381))
            ThreePointArc((83.8282511998, -86.1946768381), (92.0091517936, -87.4413656026), (96.5026798383, -80.4922956567))
        make_face()
    extrude(amount=F2_DEPTH)


with BuildPart() as f2c:
    # F0 (on Top) → F2, piece 3 (new body)
    with BuildSketch(Plane.XY):
        with BuildLine():
            ThreePointArc((-81.2626798383, -80.4922956567), (-86.1901329282, -73.3638602648), (-94.5998428664, -75.4545931138))
            ThreePointArc((-94.5998428664, -75.4545931138), (-94.2629357633, -85.8883355177), (-83.8282511998, -86.1946768381))
            ThreePointArc((-83.8282511998, -86.1946768381), (-81.9336098924, -83.618767612), (-81.2626798383, -80.4922956567))
        make_face()
    extrude(amount=F2_DEPTH)


with BuildPart() as f6:
    # F3 (on face) → F6 (new body)
    with BuildSketch(Plane.XY.offset(20.32)):
        with BuildLine():
            ThreePointArc((29.21, 167.64), (28.0940768363, 170.3340768363), (25.4, 171.45))
            Line((25.4, 171.45), (25.4, 163.83))
            ThreePointArc((25.4, 163.83), (28.0940768363, 164.9459231637), (29.21, 167.64))
        make_face()
        with BuildLine():
            Line((25.4, 163.83), (25.4, 171.45))
            ThreePointArc((25.4, 171.45), (21.59, 167.64), (25.4, 163.83))
        make_face()
    extrude(amount=F6_DEPTH)


with BuildPart() as f6b:
    # F3 (on face) → F6, piece 2 (new body)
    with BuildSketch(Plane.XY.offset(20.32)):
        with BuildLine():
            ThreePointArc((-21.59, 167.64), (-22.7059231637, 170.3340768363), (-25.4, 171.45))
            Line((-25.4, 171.45), (-25.4, 163.83))
            ThreePointArc((-25.4, 163.83), (-22.7059231637, 164.9459231637), (-21.59, 167.64))
        make_face()
        with BuildLine():
            Line((-25.4, 163.83), (-25.4, 171.45))
            ThreePointArc((-25.4, 171.45), (-29.21, 167.64), (-25.4, 163.83))
        make_face()
    extrude(amount=F6_DEPTH)


solid = Compound([f1.part, f2.part, f2b.part, f2c.part, f6.part, f6b.part])
